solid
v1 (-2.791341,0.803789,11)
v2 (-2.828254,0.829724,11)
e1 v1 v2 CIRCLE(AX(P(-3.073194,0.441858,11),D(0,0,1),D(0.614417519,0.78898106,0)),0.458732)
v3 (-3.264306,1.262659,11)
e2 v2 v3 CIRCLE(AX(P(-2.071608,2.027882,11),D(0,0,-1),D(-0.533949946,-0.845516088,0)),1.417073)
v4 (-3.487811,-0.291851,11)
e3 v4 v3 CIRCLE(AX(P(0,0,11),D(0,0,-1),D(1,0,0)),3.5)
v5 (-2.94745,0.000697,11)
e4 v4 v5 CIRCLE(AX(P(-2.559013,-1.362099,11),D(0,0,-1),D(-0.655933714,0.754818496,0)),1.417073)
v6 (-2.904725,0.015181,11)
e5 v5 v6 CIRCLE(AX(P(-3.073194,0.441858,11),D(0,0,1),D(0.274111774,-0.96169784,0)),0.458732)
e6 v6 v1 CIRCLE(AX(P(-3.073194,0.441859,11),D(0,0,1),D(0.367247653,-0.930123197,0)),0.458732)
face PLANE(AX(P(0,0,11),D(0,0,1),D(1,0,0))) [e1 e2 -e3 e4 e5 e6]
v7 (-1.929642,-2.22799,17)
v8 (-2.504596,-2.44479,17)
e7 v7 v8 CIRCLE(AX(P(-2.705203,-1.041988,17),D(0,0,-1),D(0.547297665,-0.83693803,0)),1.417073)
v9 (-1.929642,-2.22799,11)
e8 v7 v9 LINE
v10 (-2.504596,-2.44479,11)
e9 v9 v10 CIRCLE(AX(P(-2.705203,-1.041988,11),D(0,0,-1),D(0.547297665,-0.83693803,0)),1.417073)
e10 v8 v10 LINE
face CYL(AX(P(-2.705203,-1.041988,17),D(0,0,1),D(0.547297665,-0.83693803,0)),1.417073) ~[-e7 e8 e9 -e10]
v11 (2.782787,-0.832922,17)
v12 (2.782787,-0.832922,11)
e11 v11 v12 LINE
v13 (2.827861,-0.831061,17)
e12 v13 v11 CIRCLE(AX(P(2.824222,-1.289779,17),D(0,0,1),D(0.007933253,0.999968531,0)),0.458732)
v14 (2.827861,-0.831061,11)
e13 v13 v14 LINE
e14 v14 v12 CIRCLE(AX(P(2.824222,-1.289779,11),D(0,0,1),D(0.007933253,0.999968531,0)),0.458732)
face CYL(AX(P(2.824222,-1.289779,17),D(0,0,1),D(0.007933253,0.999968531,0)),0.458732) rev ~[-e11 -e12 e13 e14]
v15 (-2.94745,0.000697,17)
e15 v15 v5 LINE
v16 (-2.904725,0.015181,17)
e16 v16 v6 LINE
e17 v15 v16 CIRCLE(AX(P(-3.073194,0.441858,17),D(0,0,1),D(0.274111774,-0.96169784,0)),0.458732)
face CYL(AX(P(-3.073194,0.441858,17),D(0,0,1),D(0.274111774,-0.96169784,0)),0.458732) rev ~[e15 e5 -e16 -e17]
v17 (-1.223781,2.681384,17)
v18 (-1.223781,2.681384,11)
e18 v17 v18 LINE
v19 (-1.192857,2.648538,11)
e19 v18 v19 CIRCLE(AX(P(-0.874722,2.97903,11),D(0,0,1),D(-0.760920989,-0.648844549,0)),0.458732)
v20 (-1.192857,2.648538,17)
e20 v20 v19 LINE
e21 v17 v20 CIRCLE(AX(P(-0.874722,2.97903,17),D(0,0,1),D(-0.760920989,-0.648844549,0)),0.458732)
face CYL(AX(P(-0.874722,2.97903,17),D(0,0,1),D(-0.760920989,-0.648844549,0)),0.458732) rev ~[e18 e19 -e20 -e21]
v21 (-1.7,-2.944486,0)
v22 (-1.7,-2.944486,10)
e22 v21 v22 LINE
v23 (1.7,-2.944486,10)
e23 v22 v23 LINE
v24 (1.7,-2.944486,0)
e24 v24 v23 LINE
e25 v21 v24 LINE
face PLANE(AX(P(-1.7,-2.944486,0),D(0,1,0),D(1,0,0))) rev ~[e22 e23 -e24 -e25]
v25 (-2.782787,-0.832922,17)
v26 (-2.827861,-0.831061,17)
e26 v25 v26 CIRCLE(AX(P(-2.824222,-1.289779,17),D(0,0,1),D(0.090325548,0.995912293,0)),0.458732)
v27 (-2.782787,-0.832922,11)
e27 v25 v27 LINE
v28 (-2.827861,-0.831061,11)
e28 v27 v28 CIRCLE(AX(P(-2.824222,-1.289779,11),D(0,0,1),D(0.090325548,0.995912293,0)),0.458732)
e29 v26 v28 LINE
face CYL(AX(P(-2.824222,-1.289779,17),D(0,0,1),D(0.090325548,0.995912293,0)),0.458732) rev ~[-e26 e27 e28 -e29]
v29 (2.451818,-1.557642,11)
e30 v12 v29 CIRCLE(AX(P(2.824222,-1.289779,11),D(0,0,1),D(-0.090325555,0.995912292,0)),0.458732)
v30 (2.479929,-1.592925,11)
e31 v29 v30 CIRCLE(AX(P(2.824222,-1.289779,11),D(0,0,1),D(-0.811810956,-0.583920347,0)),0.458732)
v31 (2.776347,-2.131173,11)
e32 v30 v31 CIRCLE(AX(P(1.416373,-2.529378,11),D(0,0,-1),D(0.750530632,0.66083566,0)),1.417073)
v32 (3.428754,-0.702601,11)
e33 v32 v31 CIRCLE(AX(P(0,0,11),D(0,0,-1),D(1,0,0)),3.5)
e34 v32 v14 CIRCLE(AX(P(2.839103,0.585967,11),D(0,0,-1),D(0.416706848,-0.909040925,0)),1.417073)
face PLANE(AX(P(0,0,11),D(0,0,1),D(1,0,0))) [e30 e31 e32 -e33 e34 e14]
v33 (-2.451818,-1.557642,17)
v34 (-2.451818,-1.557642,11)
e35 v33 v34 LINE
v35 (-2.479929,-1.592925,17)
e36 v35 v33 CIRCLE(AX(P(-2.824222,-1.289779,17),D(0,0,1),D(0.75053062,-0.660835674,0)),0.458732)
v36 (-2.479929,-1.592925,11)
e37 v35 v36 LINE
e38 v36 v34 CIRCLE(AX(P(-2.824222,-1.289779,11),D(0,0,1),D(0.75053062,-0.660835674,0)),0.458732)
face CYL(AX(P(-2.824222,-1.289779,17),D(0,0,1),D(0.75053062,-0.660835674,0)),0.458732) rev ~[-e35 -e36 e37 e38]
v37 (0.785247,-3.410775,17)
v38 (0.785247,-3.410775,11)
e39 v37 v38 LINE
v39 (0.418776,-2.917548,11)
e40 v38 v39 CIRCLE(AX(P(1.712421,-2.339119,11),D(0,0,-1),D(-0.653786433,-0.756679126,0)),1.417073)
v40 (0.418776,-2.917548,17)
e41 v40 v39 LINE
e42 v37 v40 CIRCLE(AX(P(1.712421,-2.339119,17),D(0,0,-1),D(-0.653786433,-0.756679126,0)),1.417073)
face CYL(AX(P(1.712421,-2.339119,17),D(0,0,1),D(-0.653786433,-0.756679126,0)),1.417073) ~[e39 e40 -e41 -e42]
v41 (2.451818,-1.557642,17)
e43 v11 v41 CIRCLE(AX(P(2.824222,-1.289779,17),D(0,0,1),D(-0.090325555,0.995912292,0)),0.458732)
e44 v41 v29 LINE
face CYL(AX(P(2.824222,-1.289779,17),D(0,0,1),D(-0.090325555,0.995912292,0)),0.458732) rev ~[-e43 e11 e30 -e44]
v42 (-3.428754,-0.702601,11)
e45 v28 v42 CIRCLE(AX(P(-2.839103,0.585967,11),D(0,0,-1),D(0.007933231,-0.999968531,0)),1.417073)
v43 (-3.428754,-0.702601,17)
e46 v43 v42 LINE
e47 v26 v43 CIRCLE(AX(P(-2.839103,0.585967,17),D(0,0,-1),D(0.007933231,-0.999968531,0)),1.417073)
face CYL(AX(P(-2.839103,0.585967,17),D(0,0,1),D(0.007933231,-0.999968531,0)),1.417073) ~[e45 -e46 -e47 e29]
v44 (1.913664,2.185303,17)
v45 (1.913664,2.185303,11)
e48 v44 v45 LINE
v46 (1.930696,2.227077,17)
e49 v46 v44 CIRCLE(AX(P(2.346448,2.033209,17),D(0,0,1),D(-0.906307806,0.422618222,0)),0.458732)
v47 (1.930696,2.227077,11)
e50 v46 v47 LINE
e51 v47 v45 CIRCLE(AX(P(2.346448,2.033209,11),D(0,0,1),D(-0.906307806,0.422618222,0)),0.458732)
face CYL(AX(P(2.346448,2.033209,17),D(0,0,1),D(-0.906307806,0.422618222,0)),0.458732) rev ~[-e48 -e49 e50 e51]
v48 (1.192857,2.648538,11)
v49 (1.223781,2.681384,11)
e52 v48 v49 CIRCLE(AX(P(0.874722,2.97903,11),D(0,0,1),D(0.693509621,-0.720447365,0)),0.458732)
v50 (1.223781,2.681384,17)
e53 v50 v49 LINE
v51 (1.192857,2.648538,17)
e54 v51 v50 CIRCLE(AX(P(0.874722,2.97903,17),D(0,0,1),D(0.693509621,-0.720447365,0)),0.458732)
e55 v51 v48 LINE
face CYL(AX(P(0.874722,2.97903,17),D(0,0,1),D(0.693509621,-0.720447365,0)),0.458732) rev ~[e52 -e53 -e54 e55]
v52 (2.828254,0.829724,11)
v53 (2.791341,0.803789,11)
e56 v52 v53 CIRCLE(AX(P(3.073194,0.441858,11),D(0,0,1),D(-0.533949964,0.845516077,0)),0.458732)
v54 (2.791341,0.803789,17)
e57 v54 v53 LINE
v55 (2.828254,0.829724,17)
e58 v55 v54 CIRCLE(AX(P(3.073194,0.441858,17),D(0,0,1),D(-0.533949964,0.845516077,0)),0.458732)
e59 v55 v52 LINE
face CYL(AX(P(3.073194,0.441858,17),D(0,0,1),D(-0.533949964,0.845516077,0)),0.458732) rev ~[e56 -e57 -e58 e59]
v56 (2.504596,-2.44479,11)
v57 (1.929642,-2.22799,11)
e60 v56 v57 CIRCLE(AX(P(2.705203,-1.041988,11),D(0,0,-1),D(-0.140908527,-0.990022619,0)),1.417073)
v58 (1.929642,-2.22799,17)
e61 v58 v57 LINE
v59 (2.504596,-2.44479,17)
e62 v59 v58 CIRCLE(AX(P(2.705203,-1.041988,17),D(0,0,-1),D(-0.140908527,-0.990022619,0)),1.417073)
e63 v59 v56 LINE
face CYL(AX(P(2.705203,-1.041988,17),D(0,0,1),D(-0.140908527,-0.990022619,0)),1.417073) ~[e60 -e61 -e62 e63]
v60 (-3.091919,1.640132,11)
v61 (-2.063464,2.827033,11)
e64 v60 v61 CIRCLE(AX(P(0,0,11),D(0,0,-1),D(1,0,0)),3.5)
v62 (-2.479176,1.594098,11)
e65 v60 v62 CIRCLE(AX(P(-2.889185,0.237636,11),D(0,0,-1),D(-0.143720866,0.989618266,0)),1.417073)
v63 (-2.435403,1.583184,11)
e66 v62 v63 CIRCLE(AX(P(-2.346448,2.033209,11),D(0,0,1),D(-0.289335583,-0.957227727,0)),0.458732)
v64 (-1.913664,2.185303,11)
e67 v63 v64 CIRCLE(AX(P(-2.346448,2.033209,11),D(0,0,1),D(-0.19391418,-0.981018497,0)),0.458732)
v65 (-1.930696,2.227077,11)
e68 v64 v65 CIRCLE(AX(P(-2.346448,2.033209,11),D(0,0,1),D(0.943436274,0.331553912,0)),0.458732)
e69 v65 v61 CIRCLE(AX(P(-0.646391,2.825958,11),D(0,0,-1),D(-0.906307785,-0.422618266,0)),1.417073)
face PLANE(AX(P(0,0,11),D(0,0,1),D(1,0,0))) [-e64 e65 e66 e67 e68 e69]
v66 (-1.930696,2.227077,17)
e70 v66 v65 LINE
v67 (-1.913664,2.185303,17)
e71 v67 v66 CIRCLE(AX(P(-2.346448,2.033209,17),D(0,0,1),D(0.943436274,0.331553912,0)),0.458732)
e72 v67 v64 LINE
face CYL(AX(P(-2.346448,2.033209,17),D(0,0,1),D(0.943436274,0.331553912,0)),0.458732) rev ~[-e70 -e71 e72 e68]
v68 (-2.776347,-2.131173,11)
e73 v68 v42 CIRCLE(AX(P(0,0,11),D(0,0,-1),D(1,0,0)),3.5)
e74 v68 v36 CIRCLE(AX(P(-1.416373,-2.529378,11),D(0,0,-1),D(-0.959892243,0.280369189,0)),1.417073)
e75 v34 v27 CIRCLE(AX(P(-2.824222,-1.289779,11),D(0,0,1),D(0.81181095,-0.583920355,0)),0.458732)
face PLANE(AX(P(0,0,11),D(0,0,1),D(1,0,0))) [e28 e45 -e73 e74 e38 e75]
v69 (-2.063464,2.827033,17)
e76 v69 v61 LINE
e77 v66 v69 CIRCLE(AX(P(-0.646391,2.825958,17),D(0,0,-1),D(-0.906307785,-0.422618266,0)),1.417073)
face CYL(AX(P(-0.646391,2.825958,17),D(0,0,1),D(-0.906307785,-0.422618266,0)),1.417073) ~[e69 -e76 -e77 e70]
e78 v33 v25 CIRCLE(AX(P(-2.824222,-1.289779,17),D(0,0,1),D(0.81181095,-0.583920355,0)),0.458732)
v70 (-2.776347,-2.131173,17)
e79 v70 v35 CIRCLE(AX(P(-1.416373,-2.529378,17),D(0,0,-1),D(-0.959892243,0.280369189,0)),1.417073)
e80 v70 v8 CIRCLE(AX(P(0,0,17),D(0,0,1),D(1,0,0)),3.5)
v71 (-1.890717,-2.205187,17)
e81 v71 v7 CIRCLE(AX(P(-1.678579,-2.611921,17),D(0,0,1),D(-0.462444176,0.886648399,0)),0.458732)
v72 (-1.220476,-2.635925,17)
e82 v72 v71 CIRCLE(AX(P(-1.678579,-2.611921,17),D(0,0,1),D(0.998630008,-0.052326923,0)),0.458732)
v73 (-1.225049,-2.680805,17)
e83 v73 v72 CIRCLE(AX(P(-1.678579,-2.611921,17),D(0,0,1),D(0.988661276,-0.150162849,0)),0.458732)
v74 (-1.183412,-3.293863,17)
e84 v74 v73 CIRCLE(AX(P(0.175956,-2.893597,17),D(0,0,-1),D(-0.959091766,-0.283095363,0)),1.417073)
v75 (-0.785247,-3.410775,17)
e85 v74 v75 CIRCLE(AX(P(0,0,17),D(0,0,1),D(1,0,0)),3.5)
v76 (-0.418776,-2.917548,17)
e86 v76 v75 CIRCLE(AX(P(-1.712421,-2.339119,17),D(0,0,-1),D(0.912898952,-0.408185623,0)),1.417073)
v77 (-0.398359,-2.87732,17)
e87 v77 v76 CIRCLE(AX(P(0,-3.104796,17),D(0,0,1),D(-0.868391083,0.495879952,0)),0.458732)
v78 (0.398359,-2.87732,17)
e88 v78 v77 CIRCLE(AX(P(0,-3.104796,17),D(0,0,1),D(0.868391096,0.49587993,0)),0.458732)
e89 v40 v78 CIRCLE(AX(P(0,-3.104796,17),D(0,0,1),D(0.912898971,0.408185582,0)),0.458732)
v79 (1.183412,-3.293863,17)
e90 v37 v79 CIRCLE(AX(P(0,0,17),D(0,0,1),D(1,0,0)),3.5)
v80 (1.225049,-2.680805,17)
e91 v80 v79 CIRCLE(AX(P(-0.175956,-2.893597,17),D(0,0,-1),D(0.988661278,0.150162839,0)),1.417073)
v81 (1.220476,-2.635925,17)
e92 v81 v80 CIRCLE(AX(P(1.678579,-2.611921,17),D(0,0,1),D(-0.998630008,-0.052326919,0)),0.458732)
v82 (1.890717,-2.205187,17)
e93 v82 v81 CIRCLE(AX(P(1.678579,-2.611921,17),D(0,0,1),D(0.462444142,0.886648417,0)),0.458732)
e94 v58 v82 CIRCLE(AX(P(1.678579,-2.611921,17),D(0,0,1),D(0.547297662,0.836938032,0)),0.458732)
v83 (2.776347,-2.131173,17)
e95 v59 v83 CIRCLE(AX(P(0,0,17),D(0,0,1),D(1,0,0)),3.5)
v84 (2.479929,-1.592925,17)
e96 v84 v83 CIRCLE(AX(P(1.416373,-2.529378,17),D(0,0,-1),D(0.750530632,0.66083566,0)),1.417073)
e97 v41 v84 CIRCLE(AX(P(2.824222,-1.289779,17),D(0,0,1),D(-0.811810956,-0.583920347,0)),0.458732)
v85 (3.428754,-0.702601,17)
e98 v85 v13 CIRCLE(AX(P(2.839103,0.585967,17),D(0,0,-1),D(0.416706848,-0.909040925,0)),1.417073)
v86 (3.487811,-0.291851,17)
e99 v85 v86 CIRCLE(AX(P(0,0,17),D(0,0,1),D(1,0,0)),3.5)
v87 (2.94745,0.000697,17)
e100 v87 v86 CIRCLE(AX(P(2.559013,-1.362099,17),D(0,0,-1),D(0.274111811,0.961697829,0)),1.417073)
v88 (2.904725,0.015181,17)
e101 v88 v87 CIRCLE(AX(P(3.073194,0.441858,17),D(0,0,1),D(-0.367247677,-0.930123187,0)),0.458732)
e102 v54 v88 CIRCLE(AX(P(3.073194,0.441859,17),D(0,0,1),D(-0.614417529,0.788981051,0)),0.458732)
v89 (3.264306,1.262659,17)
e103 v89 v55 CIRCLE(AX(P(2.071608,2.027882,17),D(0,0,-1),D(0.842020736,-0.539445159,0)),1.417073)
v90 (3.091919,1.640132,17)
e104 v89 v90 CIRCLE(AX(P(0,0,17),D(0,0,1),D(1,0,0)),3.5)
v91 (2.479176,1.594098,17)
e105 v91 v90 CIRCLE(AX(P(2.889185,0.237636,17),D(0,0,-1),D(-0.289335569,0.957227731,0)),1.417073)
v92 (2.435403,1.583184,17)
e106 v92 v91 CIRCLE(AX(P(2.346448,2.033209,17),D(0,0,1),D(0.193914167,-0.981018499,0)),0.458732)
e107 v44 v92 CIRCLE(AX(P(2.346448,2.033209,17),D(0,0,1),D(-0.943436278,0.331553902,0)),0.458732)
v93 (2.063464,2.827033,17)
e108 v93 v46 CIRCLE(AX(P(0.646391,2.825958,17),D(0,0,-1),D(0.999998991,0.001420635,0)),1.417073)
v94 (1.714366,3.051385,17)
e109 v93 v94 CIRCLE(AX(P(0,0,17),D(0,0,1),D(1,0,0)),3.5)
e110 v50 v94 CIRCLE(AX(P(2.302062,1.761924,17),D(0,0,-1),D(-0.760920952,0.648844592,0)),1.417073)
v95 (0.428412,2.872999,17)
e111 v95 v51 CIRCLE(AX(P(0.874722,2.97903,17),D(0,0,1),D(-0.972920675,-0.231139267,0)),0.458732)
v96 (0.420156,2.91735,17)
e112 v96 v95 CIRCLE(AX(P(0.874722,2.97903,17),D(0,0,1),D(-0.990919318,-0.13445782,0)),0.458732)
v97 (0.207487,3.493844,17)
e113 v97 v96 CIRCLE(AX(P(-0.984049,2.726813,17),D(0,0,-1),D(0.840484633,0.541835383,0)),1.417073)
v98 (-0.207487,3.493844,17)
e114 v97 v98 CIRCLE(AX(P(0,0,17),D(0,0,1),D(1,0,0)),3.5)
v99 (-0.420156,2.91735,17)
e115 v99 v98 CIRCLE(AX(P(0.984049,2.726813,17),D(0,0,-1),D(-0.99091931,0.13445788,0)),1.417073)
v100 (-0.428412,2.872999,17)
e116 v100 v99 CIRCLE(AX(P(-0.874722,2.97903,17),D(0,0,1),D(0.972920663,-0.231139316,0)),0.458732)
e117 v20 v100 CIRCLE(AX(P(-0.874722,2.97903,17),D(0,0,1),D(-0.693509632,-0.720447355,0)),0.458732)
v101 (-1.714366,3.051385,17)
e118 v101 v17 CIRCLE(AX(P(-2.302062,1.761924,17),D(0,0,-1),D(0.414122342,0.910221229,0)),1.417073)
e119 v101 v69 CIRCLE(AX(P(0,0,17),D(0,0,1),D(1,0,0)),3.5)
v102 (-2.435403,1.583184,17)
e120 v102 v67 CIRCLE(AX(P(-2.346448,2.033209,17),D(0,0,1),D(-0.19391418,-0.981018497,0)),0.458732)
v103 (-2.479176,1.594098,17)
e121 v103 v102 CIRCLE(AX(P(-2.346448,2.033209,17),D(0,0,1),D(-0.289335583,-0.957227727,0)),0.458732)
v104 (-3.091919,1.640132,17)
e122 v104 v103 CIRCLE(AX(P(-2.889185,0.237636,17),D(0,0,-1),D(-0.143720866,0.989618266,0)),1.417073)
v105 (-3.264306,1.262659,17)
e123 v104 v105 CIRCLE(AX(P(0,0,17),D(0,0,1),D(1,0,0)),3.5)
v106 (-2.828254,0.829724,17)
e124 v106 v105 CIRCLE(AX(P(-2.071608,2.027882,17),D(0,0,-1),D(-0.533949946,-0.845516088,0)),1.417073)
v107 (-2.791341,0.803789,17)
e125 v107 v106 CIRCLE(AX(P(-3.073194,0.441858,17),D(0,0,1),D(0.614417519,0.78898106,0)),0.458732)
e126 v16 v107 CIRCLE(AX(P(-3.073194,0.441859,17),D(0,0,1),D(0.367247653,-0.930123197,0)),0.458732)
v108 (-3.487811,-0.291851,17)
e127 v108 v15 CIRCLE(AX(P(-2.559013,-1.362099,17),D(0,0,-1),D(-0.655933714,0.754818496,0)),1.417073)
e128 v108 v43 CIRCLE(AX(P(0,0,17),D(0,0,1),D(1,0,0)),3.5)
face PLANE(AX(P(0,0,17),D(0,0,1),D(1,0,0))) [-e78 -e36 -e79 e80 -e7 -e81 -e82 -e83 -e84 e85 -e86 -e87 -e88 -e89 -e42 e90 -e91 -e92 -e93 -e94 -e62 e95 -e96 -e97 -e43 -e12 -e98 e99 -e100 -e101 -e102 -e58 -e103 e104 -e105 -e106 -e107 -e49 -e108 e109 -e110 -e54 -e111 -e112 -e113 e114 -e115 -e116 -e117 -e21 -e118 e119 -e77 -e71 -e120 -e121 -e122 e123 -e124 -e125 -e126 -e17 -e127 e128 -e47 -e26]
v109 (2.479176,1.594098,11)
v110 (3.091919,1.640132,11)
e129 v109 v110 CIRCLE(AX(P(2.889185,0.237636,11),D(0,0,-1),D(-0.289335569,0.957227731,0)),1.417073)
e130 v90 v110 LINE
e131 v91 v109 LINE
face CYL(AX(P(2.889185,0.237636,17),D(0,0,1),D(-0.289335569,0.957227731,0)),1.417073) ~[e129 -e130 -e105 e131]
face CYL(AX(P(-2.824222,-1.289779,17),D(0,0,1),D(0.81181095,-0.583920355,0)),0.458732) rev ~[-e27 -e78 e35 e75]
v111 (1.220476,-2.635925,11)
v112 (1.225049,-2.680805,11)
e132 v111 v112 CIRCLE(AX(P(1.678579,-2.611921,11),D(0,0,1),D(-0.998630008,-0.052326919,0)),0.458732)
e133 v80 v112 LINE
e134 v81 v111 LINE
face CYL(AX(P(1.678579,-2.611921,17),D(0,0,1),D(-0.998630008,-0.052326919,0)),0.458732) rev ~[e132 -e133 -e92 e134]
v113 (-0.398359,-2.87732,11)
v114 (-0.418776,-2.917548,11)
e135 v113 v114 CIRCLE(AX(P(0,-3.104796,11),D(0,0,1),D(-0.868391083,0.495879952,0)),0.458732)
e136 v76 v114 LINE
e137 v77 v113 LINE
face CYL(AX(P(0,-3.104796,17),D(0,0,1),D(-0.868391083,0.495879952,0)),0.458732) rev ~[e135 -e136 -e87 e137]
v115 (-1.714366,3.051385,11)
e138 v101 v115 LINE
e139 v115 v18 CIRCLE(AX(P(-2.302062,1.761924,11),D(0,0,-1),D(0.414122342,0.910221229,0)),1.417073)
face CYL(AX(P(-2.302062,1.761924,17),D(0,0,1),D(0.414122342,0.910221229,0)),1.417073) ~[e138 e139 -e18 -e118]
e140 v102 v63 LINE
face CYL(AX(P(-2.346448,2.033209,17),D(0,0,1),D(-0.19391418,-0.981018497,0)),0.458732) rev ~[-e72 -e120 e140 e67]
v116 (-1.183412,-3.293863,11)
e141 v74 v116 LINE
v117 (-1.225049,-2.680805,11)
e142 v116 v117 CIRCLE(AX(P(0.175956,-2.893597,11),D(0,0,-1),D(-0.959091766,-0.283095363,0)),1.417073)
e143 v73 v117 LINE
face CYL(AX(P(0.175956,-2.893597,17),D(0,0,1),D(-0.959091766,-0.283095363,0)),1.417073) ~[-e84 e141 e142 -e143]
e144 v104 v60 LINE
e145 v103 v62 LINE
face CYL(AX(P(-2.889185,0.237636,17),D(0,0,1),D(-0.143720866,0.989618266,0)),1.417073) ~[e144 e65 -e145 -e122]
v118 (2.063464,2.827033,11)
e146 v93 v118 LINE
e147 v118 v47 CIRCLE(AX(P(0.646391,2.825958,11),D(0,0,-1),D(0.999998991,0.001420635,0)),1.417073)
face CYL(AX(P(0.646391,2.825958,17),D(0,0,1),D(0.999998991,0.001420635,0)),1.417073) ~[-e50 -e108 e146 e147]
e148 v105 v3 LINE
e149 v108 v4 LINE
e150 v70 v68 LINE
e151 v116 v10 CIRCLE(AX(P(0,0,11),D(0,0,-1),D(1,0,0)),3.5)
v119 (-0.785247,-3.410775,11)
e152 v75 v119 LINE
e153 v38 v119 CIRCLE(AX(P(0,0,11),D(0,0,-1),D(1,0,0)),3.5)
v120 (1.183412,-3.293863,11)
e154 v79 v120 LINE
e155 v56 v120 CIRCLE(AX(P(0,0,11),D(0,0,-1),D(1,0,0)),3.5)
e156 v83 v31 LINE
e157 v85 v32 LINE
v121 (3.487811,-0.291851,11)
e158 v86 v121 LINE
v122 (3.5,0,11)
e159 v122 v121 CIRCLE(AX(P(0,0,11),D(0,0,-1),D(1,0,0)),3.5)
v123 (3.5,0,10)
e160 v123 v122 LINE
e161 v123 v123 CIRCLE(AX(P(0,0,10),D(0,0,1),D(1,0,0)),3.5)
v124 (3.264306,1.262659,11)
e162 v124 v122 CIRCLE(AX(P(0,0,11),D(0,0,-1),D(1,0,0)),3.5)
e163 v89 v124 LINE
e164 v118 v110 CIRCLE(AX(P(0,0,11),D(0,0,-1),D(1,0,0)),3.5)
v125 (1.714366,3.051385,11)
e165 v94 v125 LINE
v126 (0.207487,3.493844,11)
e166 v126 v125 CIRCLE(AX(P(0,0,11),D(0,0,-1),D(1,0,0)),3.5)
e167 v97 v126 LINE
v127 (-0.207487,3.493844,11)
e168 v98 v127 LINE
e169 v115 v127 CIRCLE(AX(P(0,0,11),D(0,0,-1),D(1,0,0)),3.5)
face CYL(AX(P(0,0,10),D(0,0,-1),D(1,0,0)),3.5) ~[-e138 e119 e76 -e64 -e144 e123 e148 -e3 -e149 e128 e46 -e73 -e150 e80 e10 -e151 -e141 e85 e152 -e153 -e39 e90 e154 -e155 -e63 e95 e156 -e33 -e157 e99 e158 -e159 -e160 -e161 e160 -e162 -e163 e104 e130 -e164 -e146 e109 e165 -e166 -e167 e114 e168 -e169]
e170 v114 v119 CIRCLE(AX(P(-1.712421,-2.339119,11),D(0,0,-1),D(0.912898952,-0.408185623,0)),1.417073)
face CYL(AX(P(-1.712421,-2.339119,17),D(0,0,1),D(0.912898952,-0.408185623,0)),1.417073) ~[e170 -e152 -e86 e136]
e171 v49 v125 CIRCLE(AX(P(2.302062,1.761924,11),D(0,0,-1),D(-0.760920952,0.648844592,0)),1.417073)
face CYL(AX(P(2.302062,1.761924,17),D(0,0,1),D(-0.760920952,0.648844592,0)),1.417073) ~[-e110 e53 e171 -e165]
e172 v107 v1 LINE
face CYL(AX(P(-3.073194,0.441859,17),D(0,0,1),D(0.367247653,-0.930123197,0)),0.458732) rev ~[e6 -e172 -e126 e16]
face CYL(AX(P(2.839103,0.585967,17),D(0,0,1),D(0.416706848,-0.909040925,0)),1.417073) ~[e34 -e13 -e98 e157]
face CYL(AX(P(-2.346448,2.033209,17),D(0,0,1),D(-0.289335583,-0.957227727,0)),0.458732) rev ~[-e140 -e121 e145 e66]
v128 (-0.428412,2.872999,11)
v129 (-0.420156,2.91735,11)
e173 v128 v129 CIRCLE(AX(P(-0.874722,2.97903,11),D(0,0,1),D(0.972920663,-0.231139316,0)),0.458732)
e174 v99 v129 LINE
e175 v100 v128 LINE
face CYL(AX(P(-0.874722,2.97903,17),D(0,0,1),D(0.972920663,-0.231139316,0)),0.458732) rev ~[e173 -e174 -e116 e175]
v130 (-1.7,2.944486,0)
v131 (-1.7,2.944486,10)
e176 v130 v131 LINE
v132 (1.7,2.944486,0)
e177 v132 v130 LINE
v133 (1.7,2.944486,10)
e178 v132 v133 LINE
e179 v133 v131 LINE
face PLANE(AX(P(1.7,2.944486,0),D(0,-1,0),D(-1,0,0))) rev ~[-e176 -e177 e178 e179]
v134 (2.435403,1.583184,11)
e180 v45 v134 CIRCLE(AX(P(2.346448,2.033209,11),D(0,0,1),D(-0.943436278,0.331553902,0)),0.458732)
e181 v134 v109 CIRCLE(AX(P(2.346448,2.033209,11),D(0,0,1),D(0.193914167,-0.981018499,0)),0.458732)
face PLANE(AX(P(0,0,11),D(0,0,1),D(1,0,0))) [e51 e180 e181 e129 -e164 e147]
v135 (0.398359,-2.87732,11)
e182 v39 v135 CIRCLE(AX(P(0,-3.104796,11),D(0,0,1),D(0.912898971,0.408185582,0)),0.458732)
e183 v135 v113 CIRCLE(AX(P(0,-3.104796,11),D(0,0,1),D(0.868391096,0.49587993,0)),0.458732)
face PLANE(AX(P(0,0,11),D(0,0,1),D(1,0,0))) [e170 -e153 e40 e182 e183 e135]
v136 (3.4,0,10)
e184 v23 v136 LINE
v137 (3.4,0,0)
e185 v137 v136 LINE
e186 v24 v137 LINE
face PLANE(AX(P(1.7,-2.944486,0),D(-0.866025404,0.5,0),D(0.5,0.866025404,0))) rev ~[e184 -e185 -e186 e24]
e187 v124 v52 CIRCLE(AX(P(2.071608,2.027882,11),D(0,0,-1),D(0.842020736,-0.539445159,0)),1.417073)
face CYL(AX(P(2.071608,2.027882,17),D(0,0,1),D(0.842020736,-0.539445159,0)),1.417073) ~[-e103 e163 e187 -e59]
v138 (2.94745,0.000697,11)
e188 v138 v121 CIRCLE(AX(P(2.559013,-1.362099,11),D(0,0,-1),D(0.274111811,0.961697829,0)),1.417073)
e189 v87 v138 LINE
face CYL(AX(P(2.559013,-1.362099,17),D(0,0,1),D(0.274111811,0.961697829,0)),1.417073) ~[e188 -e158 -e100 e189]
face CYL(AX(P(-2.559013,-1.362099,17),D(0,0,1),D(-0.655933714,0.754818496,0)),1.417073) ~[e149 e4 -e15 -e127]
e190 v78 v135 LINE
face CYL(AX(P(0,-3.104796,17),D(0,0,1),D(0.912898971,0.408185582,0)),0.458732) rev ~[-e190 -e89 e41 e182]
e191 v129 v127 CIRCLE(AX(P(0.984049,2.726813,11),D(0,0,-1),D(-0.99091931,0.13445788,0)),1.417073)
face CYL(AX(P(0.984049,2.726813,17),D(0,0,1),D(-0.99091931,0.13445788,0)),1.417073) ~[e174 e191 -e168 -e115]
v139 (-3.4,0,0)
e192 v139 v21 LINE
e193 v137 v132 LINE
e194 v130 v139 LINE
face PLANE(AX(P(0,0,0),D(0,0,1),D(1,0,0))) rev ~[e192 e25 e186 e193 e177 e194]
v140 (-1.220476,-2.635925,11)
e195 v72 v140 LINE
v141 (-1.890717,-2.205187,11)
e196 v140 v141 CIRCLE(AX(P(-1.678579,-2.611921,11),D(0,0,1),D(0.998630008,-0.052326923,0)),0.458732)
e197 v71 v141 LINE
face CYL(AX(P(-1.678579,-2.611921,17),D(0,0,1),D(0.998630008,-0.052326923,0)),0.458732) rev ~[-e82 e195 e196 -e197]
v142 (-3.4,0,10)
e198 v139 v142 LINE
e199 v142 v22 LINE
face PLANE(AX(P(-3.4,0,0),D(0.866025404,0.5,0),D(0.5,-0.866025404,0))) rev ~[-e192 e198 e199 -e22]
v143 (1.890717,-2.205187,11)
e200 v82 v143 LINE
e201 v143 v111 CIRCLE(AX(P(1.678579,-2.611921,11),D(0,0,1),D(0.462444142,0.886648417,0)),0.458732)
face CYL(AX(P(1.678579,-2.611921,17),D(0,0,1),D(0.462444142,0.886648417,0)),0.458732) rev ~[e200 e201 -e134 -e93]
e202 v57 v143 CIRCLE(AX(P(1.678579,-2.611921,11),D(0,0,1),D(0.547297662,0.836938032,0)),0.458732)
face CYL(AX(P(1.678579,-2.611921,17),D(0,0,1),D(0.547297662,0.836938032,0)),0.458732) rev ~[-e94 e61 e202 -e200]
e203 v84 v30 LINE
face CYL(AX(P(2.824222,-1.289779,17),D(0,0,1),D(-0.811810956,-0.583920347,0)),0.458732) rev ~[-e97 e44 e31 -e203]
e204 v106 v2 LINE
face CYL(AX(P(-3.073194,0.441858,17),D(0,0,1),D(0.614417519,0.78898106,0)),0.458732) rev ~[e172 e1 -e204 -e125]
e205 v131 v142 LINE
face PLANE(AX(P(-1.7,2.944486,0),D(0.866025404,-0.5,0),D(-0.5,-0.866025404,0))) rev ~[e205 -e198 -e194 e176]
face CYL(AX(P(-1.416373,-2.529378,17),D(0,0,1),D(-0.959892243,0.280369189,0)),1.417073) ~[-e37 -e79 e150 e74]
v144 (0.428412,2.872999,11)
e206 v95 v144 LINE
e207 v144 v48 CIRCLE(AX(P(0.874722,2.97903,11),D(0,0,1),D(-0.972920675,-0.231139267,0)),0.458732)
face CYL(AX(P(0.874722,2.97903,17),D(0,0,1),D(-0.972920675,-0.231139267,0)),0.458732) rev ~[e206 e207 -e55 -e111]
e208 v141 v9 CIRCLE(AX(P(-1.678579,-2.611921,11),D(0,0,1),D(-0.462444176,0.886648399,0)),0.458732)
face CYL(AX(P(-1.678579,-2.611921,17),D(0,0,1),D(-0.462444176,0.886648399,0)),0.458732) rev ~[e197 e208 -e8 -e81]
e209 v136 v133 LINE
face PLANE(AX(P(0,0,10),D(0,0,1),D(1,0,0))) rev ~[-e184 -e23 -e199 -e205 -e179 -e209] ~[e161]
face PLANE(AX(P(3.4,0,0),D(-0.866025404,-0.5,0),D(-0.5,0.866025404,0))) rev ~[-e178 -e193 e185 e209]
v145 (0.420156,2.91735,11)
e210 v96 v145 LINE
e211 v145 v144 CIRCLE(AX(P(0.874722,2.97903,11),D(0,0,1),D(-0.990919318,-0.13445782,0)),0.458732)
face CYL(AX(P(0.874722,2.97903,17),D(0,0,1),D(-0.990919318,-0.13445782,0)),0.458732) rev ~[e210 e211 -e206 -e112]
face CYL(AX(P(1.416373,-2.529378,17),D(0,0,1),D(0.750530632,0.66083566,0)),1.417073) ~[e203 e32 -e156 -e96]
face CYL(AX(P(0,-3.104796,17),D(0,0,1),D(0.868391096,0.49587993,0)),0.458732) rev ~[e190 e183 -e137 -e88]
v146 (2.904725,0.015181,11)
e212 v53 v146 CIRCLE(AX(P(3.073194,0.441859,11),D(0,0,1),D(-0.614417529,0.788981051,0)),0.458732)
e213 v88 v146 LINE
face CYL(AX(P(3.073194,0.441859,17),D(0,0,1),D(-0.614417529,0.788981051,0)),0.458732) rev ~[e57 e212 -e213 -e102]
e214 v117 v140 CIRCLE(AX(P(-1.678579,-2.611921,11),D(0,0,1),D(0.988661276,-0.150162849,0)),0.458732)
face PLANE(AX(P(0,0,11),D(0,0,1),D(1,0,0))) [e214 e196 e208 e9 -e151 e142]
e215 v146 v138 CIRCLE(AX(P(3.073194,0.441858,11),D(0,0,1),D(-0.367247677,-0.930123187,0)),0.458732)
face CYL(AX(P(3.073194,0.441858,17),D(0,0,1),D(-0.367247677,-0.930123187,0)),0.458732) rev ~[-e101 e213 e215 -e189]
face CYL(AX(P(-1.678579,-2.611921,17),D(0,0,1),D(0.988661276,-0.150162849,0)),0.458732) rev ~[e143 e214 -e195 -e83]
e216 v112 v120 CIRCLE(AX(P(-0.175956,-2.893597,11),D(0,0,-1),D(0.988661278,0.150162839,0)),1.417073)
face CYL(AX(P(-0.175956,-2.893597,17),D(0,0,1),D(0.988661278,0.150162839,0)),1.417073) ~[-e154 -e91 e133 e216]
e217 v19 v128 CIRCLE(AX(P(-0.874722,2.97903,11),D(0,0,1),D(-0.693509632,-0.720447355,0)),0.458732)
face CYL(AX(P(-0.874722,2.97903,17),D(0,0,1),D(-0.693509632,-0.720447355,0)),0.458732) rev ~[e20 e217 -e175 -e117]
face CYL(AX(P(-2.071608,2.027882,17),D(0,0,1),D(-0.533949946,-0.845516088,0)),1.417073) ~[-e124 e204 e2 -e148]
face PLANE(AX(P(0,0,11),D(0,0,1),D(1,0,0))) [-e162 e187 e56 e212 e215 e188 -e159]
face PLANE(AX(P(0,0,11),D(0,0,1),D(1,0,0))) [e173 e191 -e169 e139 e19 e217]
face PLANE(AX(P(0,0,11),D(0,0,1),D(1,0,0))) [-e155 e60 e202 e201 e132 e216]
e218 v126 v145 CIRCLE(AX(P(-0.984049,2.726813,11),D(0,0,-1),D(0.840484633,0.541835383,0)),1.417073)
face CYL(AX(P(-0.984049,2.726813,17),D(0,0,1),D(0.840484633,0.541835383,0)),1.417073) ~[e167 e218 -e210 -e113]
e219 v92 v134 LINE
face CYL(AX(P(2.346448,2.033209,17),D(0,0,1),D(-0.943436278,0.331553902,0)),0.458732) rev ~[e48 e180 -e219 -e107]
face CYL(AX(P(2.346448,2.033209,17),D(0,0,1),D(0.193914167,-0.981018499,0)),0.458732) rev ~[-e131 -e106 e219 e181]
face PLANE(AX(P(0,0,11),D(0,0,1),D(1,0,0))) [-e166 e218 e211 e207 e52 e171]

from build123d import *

# Parameters (mm, degrees)
BOSS_EXTRUDE1_DEPTH = 10
SKETCH2_R           = 3.5
BOSS_EXTRUDE2_DEPTH = 7
SKETCH5_OUTSIDE_W   = 12.934
SKETCH5_OUTSIDE_H   = 12.934
CUT_EXTRUDE1_DEPTH  = 6


with BuildPart() as part:
    # Sketch1 → Boss-Extrude1 (new body)
    with BuildSketch(Plane.XY):
        Polygon((3.4, 0), (1.7, 2.944486373), (-1.7, 2.944486373), (-3.4, 0), (-1.7, -2.944486373), (1.7, -2.944486373), align=None)
    extrude(amount=BOSS_EXTRUDE1_DEPTH)

    # Sketch2 → Boss-Extrude2 (add)
    with BuildSketch(Plane.XY.offset(10)):
        Circle(SKETCH2_R)
    extrude(amount=BOSS_EXTRUDE2_DEPTH)

    # Sketch5 outside → Cut-Extrude1 (cut)
    with BuildSketch(Plane.XY.offset(17)):
        Rectangle(SKETCH5_OUTSIDE_W, SKETCH5_OUTSIDE_H)
        with BuildLine():
            ThreePointArc((-1.225048855, -2.680805064), (-1.222210326, -2.658421079), (-1.220475879, -2.635924597))
            ThreePointArc((-1.220475879, -2.635924597), (-1.430570177, -2.226010646), (-1.890717348, -2.20518656))
            ThreePointArc((-1.890717348, -2.20518656), (-1.910460352, -2.216109645), (-1.929642373, -2.227990304))
            ThreePointArc((-1.929642373, -2.227990304), (-2.205665987, -2.368094557), (-2.505525497, -2.444922359))
            ThreePointArc((-2.505525497, -2.444922359), (-2.645696022, -2.292508653), (-2.776610031, -2.13207413))
            ThreePointArc((-2.776610031, -2.13207413), (-2.657889767, -1.846200494), (-2.479929318, -1.592925316))
            ThreePointArc((-2.479929318, -1.592925316), (-2.4654397, -1.575629335), (-2.451818074, -1.557641803))
            ThreePointArc((-2.451818074, -1.557641803), (-2.40694443, -1.09921469), (-2.782786513, -0.832922011))
            ThreePointArc((-2.782786513, -0.832922011), (-2.80530085, -0.831437221), (-2.827860963, -0.831061285))
            ThreePointArc((-2.827860963, -0.831061285), (-3.135812881, -0.79969485), (-3.429606999, -0.702210219))
            ThreePointArc((-3.429606999, -0.702210219), (-3.465124877, -0.498209743), (-3.488519299, -0.292466177))
            ThreePointArc((-3.488519299, -0.292466177), (-3.234090501, -0.116158991), (-2.947449745, 0.000696964))
            ThreePointArc((-2.947449745, 0.000696964), (-2.925909389, 0.00741359), (-2.904725354, 0.015181258))
            ThreePointArc((-2.904725354, 0.015181258), (-2.619130834, 0.376574163), (-2.791340622, 0.80378939))
            ThreePointArc((-2.791340622, 0.80378939), (-2.80947815, 0.817210645), (-2.828253678, 0.829723821))
            ThreePointArc((-2.828253678, 0.829723821), (-3.070361342, 1.022602322), (-3.264812511, 1.263448704))
            ThreePointArc((-3.264812511, 1.263448704), (-3.184401067, 1.454267239), (-3.092848337, 1.63999772))
            ThreePointArc((-3.092848337, 1.63999772), (-2.783490351, 1.65076217), (-2.479175704, 1.594097963))
            ThreePointArc((-2.479175704, 1.594097963), (-2.457423521, 1.588102753), (-2.435402858, 1.583184377))
            ThreePointArc((-2.435402858, 1.583184377), (-1.999761704, 1.73280338), (-1.913663807, 2.18530334))
            ThreePointArc((-1.913663807, 2.18530334), (-1.921665988, 2.206399906), (-1.930695833, 2.227077476))
            ThreePointArc((-1.930695833, 2.227077476), (-2.030091771, 2.520230481), (-2.063463119, 2.82797159))
            ThreePointArc((-2.063463119, 2.82797159), (-1.892652419, 2.945024649), (-1.715219882, 3.051773929))
            ThreePointArc((-1.715219882, 3.051773929), (-1.449151682, 2.893578006), (-1.223780893, 2.681384122))
            ThreePointArc((-1.223780893, 2.681384122), (-1.208723048, 2.664580512), (-1.192857163, 2.648537642))
            ThreePointArc((-1.192857163, 2.648537642), (-0.745482362, 2.538879767), (-0.428412254, 2.87299892))
            ThreePointArc((-0.428412254, 2.87299892), (-0.423738452, 2.895072786), (-0.420155704, 2.917349768))
            ThreePointArc((-0.420155704, 2.917349768), (-0.345282406, 3.217703271), (-0.206978766, 3.494633479))
            ThreePointArc((-0.206978766, 3.494633479), (-0.103534673, 3.499226191), (0, 3.500757541))
            ThreePointArc((0, 3.500757541), (0.103534673, 3.499226191), (0.206978766, 3.494633479))
            ThreePointArc((0.206978766, 3.494633479), (0.345282406, 3.217703271), (0.420155704, 2.917349768))
            ThreePointArc((0.420155704, 2.917349768), (0.423738452, 2.895072786), (0.428412254, 2.87299892))
            ThreePointArc((0.428412254, 2.87299892), (0.745482362, 2.538879767), (1.192857163, 2.648537642))
            ThreePointArc((1.192857163, 2.648537642), (1.208723048, 2.664580512), (1.223780893, 2.681384122))
            ThreePointArc((1.223780893, 2.681384122), (1.449151682, 2.893578006), (1.715219882, 3.051773929))
            ThreePointArc((1.715219882, 3.051773929), (1.892652419, 2.945024649), (2.063463119, 2.82797159))
            ThreePointArc((2.063463119, 2.82797159), (2.030091771, 2.520230481), (1.930695833, 2.227077476))
            ThreePointArc((1.930695833, 2.227077476), (1.921665988, 2.206399906), (1.913663807, 2.18530334))
            ThreePointArc((1.913663807, 2.18530334), (1.999761704, 1.73280338), (2.435402858, 1.583184377))
            ThreePointArc((2.435402858, 1.583184377), (2.457423521, 1.588102753), (2.479175704, 1.594097963))
            ThreePointArc((2.479175704, 1.594097963), (2.783490351, 1.65076217), (3.092848337, 1.63999772))
            ThreePointArc((3.092848337, 1.63999772), (3.184401067, 1.454267239), (3.264812511, 1.263448704))
            ThreePointArc((3.264812511, 1.263448704), (3.070361342, 1.022602322), (2.828253678, 0.829723821))
            ThreePointArc((2.828253678, 0.829723821), (2.80947815, 0.817210645), (2.791340622, 0.80378939))
            ThreePointArc((2.791340622, 0.80378939), (2.619130834, 0.376574163), (2.904725354, 0.015181258))
            ThreePointArc((2.904725354, 0.015181258), (2.925909389, 0.00741359), (2.947449745, 0.000696964))
            ThreePointArc((2.947449745, 0.000696964), (3.234090501, -0.116158991), (3.488519299, -0.292466177))
            ThreePointArc((3.488519299, -0.292466177), (3.465124877, -0.498209743), (3.429606999, -0.702210219))
            ThreePointArc((3.429606999, -0.702210219), (3.135812881, -0.79969485), (2.827860963, -0.831061285))
            ThreePointArc((2.827860963, -0.831061285), (2.80530085, -0.831437221), (2.782786513, -0.832922011))
            ThreePointArc((2.782786513, -0.832922011), (2.40694443, -1.09921469), (2.451818074, -1.557641803))
            ThreePointArc((2.451818074, -1.557641803), (2.4654397, -1.575629335), (2.479929318, -1.592925316))
            ThreePointArc((2.479929318, -1.592925316), (2.657889767, -1.846200494), (2.776610031, -2.13207413))
            ThreePointArc((2.776610031, -2.13207413), (2.645696022, -2.292508653), (2.505525497, -2.444922359))
            ThreePointArc((2.505525497, -2.444922359), (2.205665989, -2.368094556), (1.929642376, -2.227990303))
            ThreePointArc((1.929642376, -2.227990303), (1.910460355, -2.216109643), (1.890717351, -2.205186558))
            ThreePointArc((1.890717351, -2.205186558), (1.430570178, -2.226010644), (1.220475879, -2.635924598))
            ThreePointArc((1.220475879, -2.635924598), (1.222210326, -2.65842108), (1.225048855, -2.680805065))
            ThreePointArc((1.225048855, -2.680805065), (1.237827812, -2.990086385), (1.183146697, -3.294763611))
            ThreePointArc((1.183146697, -3.294763611), (0.986277373, -3.358952263), (0.785957353, -3.411388925))
            ThreePointArc((0.785957353, -3.411388925), (0.575235727, -3.184640974), (0.418775964, -2.917548145))
            ThreePointArc((0.418775964, -2.917548145), (0.409062191, -2.897182914), (0.398358784, -2.877319957))
            ThreePointArc((0.398358784, -2.877319957), (0, -2.646063949), (-0.398358784, -2.877319956))
            ThreePointArc((-0.398358784, -2.877319956), (-0.409062191, -2.897182914), (-0.418775964, -2.917548145))
            ThreePointArc((-0.418775964, -2.917548145), (-0.575235727, -3.184640974), (-0.785957353, -3.411388925))
            ThreePointArc((-0.785957353, -3.411388925), (-0.986277373, -3.358952263), (-1.183146697, -3.294763611))
            ThreePointArc((-1.183146697, -3.294763611), (-1.237827813, -2.990086384), (-1.225048855, -2.680805064))
        make_face(mode=Mode.SUBTRACT)
    extrude(amount=-CUT_EXTRUDE1_DEPTH, mode=Mode.SUBTRACT)


solid = part.part
